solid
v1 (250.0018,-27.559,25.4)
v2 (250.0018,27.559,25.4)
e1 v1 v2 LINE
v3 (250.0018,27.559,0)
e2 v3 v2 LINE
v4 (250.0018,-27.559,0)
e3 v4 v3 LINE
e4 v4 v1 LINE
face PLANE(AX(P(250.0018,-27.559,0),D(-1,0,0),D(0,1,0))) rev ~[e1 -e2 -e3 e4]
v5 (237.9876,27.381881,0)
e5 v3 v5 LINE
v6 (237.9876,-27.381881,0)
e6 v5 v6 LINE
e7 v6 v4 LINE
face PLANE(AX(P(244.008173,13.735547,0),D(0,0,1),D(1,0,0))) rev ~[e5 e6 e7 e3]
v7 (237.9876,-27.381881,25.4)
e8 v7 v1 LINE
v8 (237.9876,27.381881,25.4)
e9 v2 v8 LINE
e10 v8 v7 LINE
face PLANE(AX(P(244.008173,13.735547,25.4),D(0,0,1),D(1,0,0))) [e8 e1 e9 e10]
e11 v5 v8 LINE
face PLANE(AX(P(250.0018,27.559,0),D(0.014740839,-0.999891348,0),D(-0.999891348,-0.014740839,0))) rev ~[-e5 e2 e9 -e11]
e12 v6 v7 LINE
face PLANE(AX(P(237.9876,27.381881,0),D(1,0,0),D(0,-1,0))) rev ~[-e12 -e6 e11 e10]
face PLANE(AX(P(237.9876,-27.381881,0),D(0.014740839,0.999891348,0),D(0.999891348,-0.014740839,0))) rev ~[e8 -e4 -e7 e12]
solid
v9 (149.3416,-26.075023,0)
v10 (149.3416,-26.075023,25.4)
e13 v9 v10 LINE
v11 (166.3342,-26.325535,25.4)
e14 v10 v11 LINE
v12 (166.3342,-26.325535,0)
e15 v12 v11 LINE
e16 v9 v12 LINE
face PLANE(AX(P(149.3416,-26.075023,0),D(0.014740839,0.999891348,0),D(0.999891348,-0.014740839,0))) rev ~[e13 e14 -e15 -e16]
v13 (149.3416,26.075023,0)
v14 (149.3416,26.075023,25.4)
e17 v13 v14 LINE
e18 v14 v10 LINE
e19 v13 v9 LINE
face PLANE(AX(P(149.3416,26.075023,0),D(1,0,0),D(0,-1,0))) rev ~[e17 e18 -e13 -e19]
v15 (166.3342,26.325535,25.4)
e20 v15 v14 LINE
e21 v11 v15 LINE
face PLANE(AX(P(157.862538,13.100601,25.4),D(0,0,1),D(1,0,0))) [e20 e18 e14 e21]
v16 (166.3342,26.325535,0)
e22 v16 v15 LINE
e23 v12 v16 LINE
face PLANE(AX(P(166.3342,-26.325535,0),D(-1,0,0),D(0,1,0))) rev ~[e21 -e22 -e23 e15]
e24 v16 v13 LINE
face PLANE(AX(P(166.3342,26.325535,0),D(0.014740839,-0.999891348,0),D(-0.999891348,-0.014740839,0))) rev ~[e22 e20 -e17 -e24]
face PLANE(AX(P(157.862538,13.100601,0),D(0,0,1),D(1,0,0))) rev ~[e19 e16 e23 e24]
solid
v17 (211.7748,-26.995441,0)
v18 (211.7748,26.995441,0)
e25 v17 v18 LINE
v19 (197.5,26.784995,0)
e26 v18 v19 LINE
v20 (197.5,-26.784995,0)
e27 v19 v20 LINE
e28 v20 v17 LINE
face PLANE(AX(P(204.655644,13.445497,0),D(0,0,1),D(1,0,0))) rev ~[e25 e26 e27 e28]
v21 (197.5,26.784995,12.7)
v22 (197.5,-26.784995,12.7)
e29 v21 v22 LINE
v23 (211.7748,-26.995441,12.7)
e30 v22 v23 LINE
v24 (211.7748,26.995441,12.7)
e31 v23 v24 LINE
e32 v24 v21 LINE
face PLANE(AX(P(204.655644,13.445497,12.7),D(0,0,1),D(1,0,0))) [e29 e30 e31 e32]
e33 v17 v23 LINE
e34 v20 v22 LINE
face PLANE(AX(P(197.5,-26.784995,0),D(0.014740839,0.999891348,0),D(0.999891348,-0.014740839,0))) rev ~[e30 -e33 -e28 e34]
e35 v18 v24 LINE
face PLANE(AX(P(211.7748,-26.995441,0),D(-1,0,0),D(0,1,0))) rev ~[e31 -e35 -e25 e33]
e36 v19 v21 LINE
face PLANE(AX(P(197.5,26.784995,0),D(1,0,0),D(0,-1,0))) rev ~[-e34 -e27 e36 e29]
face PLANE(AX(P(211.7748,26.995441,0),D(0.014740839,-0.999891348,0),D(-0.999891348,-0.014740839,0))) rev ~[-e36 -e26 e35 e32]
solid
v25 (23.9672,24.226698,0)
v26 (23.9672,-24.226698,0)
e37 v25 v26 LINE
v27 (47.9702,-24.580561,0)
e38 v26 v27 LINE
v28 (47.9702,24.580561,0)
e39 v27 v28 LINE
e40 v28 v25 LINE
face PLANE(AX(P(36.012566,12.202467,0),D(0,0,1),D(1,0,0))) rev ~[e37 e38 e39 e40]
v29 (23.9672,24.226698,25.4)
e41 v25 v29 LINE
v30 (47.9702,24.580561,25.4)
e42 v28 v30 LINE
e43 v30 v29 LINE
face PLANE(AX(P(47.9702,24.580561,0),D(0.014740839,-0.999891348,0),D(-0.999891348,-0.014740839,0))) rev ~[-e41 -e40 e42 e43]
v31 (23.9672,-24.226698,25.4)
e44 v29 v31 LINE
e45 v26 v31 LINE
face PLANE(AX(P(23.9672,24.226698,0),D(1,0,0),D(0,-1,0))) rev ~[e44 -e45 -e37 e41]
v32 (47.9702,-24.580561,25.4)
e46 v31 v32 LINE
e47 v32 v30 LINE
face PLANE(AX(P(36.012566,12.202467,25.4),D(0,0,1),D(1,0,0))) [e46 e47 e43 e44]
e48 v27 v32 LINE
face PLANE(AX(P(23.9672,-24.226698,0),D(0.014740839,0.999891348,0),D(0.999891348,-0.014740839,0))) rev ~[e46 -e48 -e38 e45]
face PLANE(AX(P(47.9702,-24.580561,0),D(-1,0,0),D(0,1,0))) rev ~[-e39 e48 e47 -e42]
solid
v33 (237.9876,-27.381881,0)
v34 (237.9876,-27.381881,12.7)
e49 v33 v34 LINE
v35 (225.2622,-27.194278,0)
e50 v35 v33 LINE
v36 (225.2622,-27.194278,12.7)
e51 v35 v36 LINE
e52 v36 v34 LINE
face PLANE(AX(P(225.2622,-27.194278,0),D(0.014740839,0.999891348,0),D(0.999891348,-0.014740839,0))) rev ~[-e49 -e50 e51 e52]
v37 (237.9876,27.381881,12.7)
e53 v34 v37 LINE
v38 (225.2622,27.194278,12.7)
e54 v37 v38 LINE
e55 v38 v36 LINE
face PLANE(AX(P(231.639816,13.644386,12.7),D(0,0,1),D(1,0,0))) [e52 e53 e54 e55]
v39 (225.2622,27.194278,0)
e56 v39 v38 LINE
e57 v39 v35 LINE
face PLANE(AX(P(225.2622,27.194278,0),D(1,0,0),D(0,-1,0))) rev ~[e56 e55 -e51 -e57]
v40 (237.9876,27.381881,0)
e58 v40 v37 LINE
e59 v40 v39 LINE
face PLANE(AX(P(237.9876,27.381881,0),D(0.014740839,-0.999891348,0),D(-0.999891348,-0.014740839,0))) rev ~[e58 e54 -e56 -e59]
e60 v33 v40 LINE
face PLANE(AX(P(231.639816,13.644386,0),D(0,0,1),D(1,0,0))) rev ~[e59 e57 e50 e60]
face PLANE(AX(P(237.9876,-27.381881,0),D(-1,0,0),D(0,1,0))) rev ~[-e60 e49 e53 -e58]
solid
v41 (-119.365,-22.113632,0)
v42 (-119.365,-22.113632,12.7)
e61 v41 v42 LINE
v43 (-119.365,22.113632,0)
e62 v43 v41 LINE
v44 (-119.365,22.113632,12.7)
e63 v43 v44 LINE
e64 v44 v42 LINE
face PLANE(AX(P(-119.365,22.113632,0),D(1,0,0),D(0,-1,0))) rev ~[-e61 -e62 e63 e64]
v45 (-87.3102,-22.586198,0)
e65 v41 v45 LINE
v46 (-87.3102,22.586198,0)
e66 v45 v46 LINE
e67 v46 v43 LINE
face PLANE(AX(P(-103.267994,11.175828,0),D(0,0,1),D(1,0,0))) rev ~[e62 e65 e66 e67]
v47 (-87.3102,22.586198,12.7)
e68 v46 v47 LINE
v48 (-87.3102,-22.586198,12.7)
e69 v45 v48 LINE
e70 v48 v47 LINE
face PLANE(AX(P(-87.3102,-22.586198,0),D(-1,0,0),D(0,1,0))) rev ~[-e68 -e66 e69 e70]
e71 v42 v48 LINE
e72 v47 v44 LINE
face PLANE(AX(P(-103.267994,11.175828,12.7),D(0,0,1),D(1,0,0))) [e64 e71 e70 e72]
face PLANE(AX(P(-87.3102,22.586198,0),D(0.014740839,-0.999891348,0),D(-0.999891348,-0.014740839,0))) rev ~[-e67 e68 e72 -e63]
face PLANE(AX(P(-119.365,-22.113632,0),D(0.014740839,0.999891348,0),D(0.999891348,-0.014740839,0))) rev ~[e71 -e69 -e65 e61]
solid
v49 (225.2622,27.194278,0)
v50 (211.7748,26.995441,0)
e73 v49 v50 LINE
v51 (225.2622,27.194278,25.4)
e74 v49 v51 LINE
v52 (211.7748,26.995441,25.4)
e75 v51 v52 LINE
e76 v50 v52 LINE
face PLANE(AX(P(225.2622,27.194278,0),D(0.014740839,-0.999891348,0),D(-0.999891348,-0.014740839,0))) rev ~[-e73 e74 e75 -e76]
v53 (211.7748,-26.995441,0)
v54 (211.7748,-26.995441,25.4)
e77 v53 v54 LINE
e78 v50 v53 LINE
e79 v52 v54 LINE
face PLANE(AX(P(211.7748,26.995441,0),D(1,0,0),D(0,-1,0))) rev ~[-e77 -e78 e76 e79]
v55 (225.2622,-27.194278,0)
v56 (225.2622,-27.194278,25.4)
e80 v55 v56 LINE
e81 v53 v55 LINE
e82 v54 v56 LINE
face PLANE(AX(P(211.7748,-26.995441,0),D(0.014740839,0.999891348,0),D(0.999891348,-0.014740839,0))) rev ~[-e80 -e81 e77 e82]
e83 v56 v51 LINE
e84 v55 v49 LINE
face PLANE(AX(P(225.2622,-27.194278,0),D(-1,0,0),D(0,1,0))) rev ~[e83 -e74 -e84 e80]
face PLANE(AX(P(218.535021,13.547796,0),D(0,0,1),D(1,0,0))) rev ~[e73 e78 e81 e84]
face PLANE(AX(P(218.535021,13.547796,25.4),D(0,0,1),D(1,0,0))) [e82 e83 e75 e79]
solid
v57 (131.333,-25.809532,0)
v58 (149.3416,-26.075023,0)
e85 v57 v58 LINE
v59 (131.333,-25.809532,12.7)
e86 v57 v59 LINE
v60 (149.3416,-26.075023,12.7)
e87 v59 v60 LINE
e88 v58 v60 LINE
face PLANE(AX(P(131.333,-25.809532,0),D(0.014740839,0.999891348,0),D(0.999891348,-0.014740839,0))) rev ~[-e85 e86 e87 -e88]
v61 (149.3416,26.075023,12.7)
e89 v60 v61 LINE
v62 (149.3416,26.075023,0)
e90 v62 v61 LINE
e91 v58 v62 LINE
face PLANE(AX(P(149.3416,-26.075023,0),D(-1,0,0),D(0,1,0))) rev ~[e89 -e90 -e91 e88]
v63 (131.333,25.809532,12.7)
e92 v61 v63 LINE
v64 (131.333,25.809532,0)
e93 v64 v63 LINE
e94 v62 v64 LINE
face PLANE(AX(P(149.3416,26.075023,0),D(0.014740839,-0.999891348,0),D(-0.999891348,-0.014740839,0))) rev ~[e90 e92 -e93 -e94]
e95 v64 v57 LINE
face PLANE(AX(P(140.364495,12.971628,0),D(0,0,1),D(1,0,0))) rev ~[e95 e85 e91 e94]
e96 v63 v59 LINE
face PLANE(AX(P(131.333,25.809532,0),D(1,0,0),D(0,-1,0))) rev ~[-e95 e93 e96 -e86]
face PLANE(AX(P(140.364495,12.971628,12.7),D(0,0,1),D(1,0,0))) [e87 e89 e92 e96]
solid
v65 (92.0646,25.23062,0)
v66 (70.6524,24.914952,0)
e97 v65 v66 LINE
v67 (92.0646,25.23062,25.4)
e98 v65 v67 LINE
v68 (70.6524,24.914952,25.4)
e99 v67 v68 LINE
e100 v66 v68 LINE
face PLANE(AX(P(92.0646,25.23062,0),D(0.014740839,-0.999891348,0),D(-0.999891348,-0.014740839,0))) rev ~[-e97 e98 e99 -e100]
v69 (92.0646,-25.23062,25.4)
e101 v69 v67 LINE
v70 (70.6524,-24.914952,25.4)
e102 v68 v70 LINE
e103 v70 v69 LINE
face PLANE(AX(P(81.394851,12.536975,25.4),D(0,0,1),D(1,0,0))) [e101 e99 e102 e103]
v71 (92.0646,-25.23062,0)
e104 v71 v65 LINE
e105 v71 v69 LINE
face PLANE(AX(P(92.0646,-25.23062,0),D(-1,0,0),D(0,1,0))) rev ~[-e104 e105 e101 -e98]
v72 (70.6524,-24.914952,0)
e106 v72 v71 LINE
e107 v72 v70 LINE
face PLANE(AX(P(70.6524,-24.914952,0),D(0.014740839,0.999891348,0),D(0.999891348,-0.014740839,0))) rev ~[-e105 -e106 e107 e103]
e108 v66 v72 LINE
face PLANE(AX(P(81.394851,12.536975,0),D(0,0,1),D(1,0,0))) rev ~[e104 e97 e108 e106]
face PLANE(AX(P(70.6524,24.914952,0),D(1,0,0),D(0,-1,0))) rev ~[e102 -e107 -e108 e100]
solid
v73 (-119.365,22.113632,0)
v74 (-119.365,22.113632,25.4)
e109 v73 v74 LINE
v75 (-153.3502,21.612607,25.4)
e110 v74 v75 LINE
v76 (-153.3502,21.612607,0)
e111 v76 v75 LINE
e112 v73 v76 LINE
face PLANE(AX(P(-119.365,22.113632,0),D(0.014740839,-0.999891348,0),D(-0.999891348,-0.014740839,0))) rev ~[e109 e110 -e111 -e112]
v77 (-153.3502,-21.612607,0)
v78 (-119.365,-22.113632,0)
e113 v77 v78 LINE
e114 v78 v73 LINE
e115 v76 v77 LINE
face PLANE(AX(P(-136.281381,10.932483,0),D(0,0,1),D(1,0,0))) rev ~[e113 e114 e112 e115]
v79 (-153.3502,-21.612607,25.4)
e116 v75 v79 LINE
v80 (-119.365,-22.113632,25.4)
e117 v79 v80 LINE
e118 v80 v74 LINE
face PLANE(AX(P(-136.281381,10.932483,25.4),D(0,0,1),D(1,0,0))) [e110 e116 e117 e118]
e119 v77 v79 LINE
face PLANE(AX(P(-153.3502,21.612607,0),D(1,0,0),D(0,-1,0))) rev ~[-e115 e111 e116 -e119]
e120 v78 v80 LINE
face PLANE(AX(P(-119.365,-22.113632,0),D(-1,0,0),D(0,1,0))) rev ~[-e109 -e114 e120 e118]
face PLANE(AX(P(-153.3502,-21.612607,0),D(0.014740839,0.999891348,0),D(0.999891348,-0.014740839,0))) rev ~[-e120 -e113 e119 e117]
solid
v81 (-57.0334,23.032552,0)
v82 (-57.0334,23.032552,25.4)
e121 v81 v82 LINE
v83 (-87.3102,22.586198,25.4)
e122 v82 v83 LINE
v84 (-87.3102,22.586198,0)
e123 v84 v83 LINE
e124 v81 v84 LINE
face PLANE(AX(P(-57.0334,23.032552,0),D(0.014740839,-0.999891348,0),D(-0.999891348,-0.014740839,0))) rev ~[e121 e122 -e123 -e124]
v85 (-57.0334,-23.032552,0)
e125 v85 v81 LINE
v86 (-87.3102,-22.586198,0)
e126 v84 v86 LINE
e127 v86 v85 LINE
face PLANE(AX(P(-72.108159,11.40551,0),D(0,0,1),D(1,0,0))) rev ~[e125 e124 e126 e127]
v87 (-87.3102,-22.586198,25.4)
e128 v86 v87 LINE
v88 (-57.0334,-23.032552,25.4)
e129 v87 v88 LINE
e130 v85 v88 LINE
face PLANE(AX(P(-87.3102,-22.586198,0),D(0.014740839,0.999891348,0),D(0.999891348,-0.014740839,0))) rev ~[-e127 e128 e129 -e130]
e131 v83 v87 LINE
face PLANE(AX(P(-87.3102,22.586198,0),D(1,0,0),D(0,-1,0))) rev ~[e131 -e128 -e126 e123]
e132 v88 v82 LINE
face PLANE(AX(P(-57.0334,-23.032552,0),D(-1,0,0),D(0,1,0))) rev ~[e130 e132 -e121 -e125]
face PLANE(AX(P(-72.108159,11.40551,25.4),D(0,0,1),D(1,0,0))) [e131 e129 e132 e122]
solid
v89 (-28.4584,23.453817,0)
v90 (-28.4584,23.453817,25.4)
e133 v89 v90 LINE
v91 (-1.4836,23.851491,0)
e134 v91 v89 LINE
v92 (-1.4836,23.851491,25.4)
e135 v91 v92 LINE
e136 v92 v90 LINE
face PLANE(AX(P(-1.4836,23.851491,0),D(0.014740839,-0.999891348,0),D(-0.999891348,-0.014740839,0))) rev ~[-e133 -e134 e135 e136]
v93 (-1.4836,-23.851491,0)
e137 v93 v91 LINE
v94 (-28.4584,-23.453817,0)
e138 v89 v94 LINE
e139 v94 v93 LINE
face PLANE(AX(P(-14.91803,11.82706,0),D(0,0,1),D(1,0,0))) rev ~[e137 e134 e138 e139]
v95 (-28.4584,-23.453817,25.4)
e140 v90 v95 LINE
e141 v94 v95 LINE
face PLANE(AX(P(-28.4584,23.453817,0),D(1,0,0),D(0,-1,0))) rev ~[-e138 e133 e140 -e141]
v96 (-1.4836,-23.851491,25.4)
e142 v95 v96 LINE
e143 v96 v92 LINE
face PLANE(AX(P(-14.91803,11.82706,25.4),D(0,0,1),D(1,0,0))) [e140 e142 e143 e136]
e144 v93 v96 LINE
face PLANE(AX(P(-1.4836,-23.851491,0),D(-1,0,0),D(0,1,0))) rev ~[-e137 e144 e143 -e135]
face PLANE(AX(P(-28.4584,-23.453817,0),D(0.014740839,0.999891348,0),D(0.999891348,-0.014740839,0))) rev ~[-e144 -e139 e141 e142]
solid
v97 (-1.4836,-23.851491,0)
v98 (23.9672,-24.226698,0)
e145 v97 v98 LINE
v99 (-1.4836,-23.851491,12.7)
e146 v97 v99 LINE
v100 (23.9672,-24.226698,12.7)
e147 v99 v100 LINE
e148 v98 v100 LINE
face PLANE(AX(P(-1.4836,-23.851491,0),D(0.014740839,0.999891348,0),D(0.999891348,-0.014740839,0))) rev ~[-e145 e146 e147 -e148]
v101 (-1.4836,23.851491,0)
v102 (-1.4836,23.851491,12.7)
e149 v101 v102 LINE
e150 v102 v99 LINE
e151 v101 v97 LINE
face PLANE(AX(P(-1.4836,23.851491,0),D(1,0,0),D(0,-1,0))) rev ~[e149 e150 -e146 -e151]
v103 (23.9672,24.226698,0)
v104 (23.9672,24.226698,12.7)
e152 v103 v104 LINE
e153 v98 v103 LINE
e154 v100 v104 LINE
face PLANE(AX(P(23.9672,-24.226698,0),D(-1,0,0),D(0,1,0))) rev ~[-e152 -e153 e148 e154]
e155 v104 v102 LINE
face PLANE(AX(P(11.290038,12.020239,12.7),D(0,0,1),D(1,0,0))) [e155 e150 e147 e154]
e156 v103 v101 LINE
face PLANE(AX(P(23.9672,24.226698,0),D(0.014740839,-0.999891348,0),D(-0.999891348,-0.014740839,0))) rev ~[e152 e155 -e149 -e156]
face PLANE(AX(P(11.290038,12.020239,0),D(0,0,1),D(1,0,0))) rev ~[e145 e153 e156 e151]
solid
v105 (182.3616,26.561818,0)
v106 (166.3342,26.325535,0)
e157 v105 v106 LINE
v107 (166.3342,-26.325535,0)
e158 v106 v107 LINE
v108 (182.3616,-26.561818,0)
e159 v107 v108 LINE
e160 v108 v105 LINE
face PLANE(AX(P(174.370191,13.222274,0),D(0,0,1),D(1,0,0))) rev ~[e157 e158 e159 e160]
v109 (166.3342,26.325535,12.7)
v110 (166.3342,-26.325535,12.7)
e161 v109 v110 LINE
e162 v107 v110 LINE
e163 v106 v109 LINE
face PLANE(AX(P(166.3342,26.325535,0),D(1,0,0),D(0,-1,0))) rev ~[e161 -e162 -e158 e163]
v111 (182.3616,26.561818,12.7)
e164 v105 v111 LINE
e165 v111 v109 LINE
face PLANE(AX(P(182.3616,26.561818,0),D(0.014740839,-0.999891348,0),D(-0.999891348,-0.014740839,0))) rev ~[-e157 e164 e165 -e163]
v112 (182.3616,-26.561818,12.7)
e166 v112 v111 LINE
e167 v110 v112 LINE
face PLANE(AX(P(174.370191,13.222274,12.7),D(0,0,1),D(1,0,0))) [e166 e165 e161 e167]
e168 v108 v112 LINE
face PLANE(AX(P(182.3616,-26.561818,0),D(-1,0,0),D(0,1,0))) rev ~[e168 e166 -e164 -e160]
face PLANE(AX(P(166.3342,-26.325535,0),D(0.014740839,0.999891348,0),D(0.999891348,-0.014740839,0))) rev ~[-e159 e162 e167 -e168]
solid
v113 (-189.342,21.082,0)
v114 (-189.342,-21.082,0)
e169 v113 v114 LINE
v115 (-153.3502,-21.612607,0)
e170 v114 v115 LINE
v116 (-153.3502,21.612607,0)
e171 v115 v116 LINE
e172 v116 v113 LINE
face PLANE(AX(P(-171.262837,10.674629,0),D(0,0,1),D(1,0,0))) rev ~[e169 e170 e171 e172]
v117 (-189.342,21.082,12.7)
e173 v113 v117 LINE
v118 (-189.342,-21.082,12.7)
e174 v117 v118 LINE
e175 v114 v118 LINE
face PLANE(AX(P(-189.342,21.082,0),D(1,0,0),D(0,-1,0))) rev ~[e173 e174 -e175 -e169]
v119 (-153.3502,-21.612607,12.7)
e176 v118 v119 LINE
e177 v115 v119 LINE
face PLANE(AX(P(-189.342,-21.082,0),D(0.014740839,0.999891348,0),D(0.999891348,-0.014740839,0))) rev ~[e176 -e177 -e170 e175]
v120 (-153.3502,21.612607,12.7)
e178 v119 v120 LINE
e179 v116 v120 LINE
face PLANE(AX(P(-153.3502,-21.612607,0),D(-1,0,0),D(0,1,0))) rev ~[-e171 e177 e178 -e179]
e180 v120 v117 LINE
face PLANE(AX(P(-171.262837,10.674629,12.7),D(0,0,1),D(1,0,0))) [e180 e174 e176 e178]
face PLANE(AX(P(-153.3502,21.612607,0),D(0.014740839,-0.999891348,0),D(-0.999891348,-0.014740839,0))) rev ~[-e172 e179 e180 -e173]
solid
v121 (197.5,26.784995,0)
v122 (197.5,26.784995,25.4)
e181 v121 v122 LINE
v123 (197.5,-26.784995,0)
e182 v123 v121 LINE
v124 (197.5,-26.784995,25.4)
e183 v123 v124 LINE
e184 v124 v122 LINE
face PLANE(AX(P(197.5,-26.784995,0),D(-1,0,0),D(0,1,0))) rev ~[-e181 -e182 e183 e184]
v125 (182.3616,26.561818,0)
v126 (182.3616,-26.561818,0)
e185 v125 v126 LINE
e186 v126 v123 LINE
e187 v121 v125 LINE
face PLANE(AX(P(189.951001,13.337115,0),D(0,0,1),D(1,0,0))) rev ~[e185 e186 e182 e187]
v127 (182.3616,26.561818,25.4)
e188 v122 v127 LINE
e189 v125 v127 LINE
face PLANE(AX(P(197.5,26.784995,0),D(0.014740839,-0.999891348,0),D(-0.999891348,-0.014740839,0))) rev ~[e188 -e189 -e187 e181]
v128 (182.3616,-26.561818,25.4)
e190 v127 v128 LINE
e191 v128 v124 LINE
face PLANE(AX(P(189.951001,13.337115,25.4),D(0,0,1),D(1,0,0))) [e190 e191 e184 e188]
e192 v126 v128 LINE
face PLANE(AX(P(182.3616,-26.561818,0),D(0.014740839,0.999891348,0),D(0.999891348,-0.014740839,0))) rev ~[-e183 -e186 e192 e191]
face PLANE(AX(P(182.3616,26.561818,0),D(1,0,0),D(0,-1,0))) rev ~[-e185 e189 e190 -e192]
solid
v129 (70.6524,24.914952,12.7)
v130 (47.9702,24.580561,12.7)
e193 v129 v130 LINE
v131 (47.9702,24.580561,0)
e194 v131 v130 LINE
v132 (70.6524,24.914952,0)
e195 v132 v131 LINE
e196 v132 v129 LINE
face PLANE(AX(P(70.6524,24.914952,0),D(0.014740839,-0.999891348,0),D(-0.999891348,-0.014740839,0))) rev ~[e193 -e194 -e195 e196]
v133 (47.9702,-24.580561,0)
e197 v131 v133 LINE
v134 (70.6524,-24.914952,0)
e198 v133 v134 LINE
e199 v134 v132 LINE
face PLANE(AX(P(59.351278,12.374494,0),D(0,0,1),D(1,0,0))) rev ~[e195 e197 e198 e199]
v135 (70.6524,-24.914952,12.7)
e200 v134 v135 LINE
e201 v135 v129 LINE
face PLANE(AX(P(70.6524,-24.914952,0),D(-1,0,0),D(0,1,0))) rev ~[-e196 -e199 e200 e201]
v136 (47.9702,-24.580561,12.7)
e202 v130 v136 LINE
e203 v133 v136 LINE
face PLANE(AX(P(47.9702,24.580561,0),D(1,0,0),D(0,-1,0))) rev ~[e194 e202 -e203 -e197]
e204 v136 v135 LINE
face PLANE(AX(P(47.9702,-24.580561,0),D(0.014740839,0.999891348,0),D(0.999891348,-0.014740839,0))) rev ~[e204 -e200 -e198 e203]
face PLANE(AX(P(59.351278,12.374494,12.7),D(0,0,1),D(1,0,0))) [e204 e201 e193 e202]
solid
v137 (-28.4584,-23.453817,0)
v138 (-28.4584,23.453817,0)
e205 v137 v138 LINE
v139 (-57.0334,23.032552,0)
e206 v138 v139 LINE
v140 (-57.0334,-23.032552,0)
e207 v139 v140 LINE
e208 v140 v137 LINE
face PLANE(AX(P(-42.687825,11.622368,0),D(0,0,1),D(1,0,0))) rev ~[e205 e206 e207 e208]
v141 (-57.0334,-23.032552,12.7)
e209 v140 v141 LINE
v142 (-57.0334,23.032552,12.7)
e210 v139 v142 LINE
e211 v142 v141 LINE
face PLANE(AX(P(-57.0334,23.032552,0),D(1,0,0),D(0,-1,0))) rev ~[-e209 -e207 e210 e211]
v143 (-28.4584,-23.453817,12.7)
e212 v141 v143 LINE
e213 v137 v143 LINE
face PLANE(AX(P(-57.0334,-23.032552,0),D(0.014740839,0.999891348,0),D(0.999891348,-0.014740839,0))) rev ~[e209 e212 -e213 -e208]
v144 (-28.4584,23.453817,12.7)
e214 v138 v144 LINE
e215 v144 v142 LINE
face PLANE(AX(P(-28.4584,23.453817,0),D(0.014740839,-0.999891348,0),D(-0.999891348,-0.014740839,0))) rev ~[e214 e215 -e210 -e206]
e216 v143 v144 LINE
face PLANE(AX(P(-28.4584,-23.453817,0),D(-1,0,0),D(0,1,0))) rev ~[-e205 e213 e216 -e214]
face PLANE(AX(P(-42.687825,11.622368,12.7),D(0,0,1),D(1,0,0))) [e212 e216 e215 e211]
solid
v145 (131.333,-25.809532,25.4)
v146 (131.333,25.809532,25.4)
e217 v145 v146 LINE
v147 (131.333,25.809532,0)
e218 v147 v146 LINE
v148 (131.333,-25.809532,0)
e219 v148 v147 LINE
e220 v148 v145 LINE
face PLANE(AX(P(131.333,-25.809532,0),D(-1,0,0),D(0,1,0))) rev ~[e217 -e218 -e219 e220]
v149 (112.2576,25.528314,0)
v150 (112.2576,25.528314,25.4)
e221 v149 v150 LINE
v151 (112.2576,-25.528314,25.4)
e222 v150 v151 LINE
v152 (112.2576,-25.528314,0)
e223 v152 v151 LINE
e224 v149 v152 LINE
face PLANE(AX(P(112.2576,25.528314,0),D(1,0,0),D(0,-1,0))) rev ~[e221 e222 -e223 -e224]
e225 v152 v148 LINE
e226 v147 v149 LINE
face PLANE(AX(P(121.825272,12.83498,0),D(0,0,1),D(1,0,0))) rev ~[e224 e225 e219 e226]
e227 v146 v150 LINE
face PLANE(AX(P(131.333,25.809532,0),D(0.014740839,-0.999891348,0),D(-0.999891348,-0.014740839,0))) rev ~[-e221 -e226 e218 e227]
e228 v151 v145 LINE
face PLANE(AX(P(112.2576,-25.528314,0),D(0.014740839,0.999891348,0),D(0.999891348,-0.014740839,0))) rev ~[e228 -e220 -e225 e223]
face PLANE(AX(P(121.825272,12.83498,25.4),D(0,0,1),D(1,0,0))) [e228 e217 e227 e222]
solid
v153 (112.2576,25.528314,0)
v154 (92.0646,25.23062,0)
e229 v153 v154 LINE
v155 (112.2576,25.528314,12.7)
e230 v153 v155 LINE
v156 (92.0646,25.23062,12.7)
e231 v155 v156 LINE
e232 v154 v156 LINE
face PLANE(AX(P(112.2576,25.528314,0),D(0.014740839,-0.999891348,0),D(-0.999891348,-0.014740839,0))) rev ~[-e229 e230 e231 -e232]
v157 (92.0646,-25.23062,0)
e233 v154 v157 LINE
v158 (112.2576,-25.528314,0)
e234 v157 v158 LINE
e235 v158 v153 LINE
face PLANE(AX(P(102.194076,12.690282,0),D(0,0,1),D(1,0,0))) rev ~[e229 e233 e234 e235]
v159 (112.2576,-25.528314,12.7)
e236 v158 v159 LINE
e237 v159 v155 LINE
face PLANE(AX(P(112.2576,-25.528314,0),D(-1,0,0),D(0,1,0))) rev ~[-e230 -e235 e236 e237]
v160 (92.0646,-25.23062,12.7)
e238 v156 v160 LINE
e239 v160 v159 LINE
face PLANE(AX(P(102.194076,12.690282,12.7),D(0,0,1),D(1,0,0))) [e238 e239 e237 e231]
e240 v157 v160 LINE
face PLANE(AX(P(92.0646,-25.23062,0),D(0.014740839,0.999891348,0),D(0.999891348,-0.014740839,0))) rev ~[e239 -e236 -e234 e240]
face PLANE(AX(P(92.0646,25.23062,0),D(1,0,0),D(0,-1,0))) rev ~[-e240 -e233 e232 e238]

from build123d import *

# Parameters (mm, degrees)
F1_DEPTH = 25.4
F2_DEPTH = 12.7


with BuildPart() as f1:
    # F0 (on Top) → F1 (new body)
    with BuildSketch(Plane.XY):
        Polygon((-153.35019981, 21.6126069839), (-153.35019981, 0), (-119.36499981, 0), (-119.36499981, 22.1136317859), align=None)
        Polygon((-119.36499981, 0), (-153.35019981, 0), (-153.35019981, -21.6126069839), (-119.36499981, -22.1136317859), align=None)
    extrude(amount=F1_DEPTH)


with BuildPart() as f1b:
    # F0 (on Top) → F1, piece 2 (new body)
    with BuildSketch(Plane.XY):
        Polygon((-87.31019981, 22.58619778), (-87.31019981, 0), (-57.03339981, 0), (-57.03339981, 23.0325517142), align=None)
        Polygon((-57.03339981, 0), (-87.31019981, 0), (-87.31019981, -22.58619778), (-57.03339981, -23.0325517142), align=None)
    extrude(amount=F1_DEPTH)


with BuildPart() as f1c:
    # F0 (on Top) → F1, piece 3 (new body)
    with BuildSketch(Plane.XY):
        Polygon((-28.45839981, 23.4538169625), (-28.45839981, 0), (-1.48359981, 0), (-1.48359981, 23.8514913569), align=None)
        Polygon((-1.48359981, 0), (-28.45839981, 0), (-28.45839981, -23.4538169625), (-1.48359981, -23.8514913569), align=None)
    extrude(amount=F1_DEPTH)


with BuildPart() as f1d:
    # F0 (on Top) → F1, piece 4 (new body)
    with BuildSketch(Plane.XY):
        Polygon((23.96720019, 24.2266982714), (23.96720019, 0), (47.97020019, 0), (47.97020019, 24.58056108), align=None)
        Polygon((47.97020019, 0), (23.96720019, 0), (23.96720019, -24.2266982714), (47.97020019, -24.58056108), align=None)
    extrude(amount=F1_DEPTH)


with BuildPart() as f1e:
    # F0 (on Top) → F1, piece 5 (new body)
    with BuildSketch(Plane.XY):
        Polygon((70.65240019, 24.9149520726), (70.65240019, 0), (92.06460019, 0), (92.06460019, 25.2306201653), align=None)
        Polygon((92.06460019, 0), (70.65240019, 0), (70.65240019, -24.9149520726), (92.06460019, -25.2306201653), align=None)
    extrude(amount=F1_DEPTH)


with BuildPart() as f1f:
    # F0 (on Top) → F1, piece 6 (new body)
    with BuildSketch(Plane.XY):
        Polygon((112.25760019, 25.5283142742), (112.25760019, 0), (131.33300019, 0), (131.33300019, 25.809532231), align=None)
        Polygon((131.33300019, 0), (112.25760019, 0), (112.25760019, -25.5283142742), (131.33300019, -25.809532231), align=None)
    extrude(amount=F1_DEPTH)


with BuildPart() as f1g:
    # F0 (on Top) → F1, piece 7 (new body)
    with BuildSketch(Plane.XY):
        Polygon((149.34160019, 26.075022952), (149.34160019, 0), (166.33420019, 0), (166.33420019, 26.325535353), align=None)
        Polygon((166.33420019, 0), (149.34160019, 0), (149.34160019, -26.075022952), (166.33420019, -26.325535353), align=None)
    extrude(amount=F1_DEPTH)


with BuildPart() as f1h:
    # F0 (on Top) → F1, piece 8 (new body)
    with BuildSketch(Plane.XY):
        Polygon((182.36160019, 26.56181835), (182.36160019, 0), (197.50000019, 0), (197.50000019, 26.7849953171), align=None)
        Polygon((197.50000019, 0), (182.36160019, 0), (182.36160019, -26.56181835), (197.50000019, -26.7849953171), align=None)
    extrude(amount=F1_DEPTH)


with BuildPart() as f1i:
    # F0 (on Top) → F1, piece 9 (new body)
    with BuildSketch(Plane.XY):
        Polygon((211.77480019, 26.9954407123), (211.77480019, 0), (225.26220019, 0), (225.26220019, 27.1942779095), align=None)
        Polygon((225.26220019, 0), (211.77480019, 0), (211.77480019, -26.9954407123), (225.26220019, -27.1942779095), align=None)
    extrude(amount=F1_DEPTH)


with BuildPart() as f1j:
    # F0 (on Top) → F1, piece 10 (new body)
    with BuildSketch(Plane.XY):
        Polygon((237.98760019, 27.3818813667), (237.98760019, 0), (250.00180019, 0), (250.00180019, 27.559), align=None)
        Polygon((250.00180019, 0), (237.98760019, 0), (237.98760019, -27.3818813667), (250.00180019, -27.559), align=None)
    extrude(amount=F1_DEPTH)


with BuildPart() as f2:
    # F0 (on Top) → F2 (new body)
    with BuildSketch(Plane.XY):
        Polygon((-189.34199981, 21.082), (-189.34199981, 0), (-153.35019981, 0), (-153.35019981, 21.6126069839), align=None)
        Polygon((-153.35019981, 0), (-189.34199981, 0), (-189.34199981, -21.082), (-153.35019981, -21.6126069839), align=None)
    extrude(amount=F2_DEPTH)


with BuildPart() as f2b:
    # F0 (on Top) → F2, piece 2 (new body)
    with BuildSketch(Plane.XY):
        Polygon((-119.36499981, 22.1136317859), (-119.36499981, 0), (-87.31019981, 0), (-87.31019981, 22.58619778), align=None)
        Polygon((-87.31019981, 0), (-119.36499981, 0), (-119.36499981, -22.1136317859), (-87.31019981, -22.58619778), align=None)
    extrude(amount=F2_DEPTH)


with BuildPart() as f2c:
    # F0 (on Top) → F2, piece 3 (new body)
    with BuildSketch(Plane.XY):
        Polygon((-57.03339981, 23.0325517142), (-57.03339981, 0), (-28.45839981, 0), (-28.45839981, 23.4538169625), align=None)
        Polygon((-28.45839981, 0), (-57.03339981, 0), (-57.03339981, -23.0325517142), (-28.45839981, -23.4538169625), align=None)
    extrude(amount=F2_DEPTH)


with BuildPart() as f2d:
    # F0 (on Top) → F2, piece 4 (new body)
    with BuildSketch(Plane.XY):
        Polygon((-1.48359981, 23.8514913569), (-1.48359981, 0), (23.96720019, 0), (23.96720019, 24.2266982714), align=None)
        Polygon((23.96720019, 0), (-1.48359981, 0), (-1.48359981, -23.8514913569), (23.96720019, -24.2266982714), align=None)
    extrude(amount=F2_DEPTH)


with BuildPart() as f2e:
    # F0 (on Top) → F2, piece 5 (new body)
    with BuildSketch(Plane.XY):
        Polygon((47.97020019, 24.58056108), (47.97020019, 0), (70.65240019, 0), (70.65240019, 24.9149520726), align=None)
        Polygon((70.65240019, 0), (47.97020019, 0), (47.97020019, -24.58056108), (70.65240019, -24.9149520726), align=None)
    extrude(amount=F2_DEPTH)


with BuildPart() as f2f:
    # F0 (on Top) → F2, piece 6 (new body)
    with BuildSketch(Plane.XY):
        Polygon((92.06460019, 25.2306201653), (92.06460019, 0), (112.25760019, 0), (112.25760019, 25.5283142742), align=None)
        Polygon((112.25760019, 0), (92.06460019, 0), (92.06460019, -25.2306201653), (112.25760019, -25.5283142742), align=None)
    extrude(amount=F2_DEPTH)


with BuildPart() as f2g:
    # F0 (on Top) → F2, piece 7 (new body)
    with BuildSketch(Plane.XY):
        Polygon((131.33300019, 25.809532231), (131.33300019, 0), (149.34160019, 0), (149.34160019, 26.075022952), align=None)
        Polygon((149.34160019, 0), (131.33300019, 0), (131.33300019, -25.809532231), (149.34160019, -26.075022952), align=None)
    extrude(amount=F2_DEPTH)


with BuildPart() as f2h:
    # F0 (on Top) → F2, piece 8 (new body)
    with BuildSketch(Plane.XY):
        Polygon((166.33420019, 26.325535353), (166.33420019, 0), (182.36160019, 0), (182.36160019, 26.56181835), align=None)
        Polygon((182.36160019, 0), (166.33420019, 0), (166.33420019, -26.325535353), (182.36160019, -26.56181835), align=None)
    extrude(amount=F2_DEPTH)


with BuildPart() as f2i:
    # F0 (on Top) → F2, piece 9 (new body)
    with BuildSketch(Plane.XY):
        Polygon((197.50000019, 26.7849953171), (197.50000019, 0), (211.77480019, 0), (211.77480019, 26.9954407123), align=None)
        Polygon((211.77480019, 0), (197.50000019, 0), (197.50000019, -26.7849953171), (211.77480019, -26.9954407123), align=None)
    extrude(amount=F2_DEPTH)


with BuildPart() as f2j:
    # F0 (on Top) → F2, piece 10 (new body)
    with BuildSketch(Plane.XY):
        Polygon((225.26220019, 27.1942779095), (225.26220019, 0), (237.98760019, 0), (237.98760019, 27.3818813667), align=None)
        Polygon((237.98760019, 0), (225.26220019, 0), (225.26220019, -27.1942779095), (237.98760019, -27.3818813667), align=None)
    extrude(amount=F2_DEPTH)


solid = Compound([f1.part, f1b.part, f1c.part, f1d.part, f1e.part, f1f.part, f1g.part, f1h.part, f1i.part, f1j.part, f2.part, f2b.part, f2c.part, f2d.part, f2e.part, f2f.part, f2g.part, f2h.part, f2i.part, f2j.part])
